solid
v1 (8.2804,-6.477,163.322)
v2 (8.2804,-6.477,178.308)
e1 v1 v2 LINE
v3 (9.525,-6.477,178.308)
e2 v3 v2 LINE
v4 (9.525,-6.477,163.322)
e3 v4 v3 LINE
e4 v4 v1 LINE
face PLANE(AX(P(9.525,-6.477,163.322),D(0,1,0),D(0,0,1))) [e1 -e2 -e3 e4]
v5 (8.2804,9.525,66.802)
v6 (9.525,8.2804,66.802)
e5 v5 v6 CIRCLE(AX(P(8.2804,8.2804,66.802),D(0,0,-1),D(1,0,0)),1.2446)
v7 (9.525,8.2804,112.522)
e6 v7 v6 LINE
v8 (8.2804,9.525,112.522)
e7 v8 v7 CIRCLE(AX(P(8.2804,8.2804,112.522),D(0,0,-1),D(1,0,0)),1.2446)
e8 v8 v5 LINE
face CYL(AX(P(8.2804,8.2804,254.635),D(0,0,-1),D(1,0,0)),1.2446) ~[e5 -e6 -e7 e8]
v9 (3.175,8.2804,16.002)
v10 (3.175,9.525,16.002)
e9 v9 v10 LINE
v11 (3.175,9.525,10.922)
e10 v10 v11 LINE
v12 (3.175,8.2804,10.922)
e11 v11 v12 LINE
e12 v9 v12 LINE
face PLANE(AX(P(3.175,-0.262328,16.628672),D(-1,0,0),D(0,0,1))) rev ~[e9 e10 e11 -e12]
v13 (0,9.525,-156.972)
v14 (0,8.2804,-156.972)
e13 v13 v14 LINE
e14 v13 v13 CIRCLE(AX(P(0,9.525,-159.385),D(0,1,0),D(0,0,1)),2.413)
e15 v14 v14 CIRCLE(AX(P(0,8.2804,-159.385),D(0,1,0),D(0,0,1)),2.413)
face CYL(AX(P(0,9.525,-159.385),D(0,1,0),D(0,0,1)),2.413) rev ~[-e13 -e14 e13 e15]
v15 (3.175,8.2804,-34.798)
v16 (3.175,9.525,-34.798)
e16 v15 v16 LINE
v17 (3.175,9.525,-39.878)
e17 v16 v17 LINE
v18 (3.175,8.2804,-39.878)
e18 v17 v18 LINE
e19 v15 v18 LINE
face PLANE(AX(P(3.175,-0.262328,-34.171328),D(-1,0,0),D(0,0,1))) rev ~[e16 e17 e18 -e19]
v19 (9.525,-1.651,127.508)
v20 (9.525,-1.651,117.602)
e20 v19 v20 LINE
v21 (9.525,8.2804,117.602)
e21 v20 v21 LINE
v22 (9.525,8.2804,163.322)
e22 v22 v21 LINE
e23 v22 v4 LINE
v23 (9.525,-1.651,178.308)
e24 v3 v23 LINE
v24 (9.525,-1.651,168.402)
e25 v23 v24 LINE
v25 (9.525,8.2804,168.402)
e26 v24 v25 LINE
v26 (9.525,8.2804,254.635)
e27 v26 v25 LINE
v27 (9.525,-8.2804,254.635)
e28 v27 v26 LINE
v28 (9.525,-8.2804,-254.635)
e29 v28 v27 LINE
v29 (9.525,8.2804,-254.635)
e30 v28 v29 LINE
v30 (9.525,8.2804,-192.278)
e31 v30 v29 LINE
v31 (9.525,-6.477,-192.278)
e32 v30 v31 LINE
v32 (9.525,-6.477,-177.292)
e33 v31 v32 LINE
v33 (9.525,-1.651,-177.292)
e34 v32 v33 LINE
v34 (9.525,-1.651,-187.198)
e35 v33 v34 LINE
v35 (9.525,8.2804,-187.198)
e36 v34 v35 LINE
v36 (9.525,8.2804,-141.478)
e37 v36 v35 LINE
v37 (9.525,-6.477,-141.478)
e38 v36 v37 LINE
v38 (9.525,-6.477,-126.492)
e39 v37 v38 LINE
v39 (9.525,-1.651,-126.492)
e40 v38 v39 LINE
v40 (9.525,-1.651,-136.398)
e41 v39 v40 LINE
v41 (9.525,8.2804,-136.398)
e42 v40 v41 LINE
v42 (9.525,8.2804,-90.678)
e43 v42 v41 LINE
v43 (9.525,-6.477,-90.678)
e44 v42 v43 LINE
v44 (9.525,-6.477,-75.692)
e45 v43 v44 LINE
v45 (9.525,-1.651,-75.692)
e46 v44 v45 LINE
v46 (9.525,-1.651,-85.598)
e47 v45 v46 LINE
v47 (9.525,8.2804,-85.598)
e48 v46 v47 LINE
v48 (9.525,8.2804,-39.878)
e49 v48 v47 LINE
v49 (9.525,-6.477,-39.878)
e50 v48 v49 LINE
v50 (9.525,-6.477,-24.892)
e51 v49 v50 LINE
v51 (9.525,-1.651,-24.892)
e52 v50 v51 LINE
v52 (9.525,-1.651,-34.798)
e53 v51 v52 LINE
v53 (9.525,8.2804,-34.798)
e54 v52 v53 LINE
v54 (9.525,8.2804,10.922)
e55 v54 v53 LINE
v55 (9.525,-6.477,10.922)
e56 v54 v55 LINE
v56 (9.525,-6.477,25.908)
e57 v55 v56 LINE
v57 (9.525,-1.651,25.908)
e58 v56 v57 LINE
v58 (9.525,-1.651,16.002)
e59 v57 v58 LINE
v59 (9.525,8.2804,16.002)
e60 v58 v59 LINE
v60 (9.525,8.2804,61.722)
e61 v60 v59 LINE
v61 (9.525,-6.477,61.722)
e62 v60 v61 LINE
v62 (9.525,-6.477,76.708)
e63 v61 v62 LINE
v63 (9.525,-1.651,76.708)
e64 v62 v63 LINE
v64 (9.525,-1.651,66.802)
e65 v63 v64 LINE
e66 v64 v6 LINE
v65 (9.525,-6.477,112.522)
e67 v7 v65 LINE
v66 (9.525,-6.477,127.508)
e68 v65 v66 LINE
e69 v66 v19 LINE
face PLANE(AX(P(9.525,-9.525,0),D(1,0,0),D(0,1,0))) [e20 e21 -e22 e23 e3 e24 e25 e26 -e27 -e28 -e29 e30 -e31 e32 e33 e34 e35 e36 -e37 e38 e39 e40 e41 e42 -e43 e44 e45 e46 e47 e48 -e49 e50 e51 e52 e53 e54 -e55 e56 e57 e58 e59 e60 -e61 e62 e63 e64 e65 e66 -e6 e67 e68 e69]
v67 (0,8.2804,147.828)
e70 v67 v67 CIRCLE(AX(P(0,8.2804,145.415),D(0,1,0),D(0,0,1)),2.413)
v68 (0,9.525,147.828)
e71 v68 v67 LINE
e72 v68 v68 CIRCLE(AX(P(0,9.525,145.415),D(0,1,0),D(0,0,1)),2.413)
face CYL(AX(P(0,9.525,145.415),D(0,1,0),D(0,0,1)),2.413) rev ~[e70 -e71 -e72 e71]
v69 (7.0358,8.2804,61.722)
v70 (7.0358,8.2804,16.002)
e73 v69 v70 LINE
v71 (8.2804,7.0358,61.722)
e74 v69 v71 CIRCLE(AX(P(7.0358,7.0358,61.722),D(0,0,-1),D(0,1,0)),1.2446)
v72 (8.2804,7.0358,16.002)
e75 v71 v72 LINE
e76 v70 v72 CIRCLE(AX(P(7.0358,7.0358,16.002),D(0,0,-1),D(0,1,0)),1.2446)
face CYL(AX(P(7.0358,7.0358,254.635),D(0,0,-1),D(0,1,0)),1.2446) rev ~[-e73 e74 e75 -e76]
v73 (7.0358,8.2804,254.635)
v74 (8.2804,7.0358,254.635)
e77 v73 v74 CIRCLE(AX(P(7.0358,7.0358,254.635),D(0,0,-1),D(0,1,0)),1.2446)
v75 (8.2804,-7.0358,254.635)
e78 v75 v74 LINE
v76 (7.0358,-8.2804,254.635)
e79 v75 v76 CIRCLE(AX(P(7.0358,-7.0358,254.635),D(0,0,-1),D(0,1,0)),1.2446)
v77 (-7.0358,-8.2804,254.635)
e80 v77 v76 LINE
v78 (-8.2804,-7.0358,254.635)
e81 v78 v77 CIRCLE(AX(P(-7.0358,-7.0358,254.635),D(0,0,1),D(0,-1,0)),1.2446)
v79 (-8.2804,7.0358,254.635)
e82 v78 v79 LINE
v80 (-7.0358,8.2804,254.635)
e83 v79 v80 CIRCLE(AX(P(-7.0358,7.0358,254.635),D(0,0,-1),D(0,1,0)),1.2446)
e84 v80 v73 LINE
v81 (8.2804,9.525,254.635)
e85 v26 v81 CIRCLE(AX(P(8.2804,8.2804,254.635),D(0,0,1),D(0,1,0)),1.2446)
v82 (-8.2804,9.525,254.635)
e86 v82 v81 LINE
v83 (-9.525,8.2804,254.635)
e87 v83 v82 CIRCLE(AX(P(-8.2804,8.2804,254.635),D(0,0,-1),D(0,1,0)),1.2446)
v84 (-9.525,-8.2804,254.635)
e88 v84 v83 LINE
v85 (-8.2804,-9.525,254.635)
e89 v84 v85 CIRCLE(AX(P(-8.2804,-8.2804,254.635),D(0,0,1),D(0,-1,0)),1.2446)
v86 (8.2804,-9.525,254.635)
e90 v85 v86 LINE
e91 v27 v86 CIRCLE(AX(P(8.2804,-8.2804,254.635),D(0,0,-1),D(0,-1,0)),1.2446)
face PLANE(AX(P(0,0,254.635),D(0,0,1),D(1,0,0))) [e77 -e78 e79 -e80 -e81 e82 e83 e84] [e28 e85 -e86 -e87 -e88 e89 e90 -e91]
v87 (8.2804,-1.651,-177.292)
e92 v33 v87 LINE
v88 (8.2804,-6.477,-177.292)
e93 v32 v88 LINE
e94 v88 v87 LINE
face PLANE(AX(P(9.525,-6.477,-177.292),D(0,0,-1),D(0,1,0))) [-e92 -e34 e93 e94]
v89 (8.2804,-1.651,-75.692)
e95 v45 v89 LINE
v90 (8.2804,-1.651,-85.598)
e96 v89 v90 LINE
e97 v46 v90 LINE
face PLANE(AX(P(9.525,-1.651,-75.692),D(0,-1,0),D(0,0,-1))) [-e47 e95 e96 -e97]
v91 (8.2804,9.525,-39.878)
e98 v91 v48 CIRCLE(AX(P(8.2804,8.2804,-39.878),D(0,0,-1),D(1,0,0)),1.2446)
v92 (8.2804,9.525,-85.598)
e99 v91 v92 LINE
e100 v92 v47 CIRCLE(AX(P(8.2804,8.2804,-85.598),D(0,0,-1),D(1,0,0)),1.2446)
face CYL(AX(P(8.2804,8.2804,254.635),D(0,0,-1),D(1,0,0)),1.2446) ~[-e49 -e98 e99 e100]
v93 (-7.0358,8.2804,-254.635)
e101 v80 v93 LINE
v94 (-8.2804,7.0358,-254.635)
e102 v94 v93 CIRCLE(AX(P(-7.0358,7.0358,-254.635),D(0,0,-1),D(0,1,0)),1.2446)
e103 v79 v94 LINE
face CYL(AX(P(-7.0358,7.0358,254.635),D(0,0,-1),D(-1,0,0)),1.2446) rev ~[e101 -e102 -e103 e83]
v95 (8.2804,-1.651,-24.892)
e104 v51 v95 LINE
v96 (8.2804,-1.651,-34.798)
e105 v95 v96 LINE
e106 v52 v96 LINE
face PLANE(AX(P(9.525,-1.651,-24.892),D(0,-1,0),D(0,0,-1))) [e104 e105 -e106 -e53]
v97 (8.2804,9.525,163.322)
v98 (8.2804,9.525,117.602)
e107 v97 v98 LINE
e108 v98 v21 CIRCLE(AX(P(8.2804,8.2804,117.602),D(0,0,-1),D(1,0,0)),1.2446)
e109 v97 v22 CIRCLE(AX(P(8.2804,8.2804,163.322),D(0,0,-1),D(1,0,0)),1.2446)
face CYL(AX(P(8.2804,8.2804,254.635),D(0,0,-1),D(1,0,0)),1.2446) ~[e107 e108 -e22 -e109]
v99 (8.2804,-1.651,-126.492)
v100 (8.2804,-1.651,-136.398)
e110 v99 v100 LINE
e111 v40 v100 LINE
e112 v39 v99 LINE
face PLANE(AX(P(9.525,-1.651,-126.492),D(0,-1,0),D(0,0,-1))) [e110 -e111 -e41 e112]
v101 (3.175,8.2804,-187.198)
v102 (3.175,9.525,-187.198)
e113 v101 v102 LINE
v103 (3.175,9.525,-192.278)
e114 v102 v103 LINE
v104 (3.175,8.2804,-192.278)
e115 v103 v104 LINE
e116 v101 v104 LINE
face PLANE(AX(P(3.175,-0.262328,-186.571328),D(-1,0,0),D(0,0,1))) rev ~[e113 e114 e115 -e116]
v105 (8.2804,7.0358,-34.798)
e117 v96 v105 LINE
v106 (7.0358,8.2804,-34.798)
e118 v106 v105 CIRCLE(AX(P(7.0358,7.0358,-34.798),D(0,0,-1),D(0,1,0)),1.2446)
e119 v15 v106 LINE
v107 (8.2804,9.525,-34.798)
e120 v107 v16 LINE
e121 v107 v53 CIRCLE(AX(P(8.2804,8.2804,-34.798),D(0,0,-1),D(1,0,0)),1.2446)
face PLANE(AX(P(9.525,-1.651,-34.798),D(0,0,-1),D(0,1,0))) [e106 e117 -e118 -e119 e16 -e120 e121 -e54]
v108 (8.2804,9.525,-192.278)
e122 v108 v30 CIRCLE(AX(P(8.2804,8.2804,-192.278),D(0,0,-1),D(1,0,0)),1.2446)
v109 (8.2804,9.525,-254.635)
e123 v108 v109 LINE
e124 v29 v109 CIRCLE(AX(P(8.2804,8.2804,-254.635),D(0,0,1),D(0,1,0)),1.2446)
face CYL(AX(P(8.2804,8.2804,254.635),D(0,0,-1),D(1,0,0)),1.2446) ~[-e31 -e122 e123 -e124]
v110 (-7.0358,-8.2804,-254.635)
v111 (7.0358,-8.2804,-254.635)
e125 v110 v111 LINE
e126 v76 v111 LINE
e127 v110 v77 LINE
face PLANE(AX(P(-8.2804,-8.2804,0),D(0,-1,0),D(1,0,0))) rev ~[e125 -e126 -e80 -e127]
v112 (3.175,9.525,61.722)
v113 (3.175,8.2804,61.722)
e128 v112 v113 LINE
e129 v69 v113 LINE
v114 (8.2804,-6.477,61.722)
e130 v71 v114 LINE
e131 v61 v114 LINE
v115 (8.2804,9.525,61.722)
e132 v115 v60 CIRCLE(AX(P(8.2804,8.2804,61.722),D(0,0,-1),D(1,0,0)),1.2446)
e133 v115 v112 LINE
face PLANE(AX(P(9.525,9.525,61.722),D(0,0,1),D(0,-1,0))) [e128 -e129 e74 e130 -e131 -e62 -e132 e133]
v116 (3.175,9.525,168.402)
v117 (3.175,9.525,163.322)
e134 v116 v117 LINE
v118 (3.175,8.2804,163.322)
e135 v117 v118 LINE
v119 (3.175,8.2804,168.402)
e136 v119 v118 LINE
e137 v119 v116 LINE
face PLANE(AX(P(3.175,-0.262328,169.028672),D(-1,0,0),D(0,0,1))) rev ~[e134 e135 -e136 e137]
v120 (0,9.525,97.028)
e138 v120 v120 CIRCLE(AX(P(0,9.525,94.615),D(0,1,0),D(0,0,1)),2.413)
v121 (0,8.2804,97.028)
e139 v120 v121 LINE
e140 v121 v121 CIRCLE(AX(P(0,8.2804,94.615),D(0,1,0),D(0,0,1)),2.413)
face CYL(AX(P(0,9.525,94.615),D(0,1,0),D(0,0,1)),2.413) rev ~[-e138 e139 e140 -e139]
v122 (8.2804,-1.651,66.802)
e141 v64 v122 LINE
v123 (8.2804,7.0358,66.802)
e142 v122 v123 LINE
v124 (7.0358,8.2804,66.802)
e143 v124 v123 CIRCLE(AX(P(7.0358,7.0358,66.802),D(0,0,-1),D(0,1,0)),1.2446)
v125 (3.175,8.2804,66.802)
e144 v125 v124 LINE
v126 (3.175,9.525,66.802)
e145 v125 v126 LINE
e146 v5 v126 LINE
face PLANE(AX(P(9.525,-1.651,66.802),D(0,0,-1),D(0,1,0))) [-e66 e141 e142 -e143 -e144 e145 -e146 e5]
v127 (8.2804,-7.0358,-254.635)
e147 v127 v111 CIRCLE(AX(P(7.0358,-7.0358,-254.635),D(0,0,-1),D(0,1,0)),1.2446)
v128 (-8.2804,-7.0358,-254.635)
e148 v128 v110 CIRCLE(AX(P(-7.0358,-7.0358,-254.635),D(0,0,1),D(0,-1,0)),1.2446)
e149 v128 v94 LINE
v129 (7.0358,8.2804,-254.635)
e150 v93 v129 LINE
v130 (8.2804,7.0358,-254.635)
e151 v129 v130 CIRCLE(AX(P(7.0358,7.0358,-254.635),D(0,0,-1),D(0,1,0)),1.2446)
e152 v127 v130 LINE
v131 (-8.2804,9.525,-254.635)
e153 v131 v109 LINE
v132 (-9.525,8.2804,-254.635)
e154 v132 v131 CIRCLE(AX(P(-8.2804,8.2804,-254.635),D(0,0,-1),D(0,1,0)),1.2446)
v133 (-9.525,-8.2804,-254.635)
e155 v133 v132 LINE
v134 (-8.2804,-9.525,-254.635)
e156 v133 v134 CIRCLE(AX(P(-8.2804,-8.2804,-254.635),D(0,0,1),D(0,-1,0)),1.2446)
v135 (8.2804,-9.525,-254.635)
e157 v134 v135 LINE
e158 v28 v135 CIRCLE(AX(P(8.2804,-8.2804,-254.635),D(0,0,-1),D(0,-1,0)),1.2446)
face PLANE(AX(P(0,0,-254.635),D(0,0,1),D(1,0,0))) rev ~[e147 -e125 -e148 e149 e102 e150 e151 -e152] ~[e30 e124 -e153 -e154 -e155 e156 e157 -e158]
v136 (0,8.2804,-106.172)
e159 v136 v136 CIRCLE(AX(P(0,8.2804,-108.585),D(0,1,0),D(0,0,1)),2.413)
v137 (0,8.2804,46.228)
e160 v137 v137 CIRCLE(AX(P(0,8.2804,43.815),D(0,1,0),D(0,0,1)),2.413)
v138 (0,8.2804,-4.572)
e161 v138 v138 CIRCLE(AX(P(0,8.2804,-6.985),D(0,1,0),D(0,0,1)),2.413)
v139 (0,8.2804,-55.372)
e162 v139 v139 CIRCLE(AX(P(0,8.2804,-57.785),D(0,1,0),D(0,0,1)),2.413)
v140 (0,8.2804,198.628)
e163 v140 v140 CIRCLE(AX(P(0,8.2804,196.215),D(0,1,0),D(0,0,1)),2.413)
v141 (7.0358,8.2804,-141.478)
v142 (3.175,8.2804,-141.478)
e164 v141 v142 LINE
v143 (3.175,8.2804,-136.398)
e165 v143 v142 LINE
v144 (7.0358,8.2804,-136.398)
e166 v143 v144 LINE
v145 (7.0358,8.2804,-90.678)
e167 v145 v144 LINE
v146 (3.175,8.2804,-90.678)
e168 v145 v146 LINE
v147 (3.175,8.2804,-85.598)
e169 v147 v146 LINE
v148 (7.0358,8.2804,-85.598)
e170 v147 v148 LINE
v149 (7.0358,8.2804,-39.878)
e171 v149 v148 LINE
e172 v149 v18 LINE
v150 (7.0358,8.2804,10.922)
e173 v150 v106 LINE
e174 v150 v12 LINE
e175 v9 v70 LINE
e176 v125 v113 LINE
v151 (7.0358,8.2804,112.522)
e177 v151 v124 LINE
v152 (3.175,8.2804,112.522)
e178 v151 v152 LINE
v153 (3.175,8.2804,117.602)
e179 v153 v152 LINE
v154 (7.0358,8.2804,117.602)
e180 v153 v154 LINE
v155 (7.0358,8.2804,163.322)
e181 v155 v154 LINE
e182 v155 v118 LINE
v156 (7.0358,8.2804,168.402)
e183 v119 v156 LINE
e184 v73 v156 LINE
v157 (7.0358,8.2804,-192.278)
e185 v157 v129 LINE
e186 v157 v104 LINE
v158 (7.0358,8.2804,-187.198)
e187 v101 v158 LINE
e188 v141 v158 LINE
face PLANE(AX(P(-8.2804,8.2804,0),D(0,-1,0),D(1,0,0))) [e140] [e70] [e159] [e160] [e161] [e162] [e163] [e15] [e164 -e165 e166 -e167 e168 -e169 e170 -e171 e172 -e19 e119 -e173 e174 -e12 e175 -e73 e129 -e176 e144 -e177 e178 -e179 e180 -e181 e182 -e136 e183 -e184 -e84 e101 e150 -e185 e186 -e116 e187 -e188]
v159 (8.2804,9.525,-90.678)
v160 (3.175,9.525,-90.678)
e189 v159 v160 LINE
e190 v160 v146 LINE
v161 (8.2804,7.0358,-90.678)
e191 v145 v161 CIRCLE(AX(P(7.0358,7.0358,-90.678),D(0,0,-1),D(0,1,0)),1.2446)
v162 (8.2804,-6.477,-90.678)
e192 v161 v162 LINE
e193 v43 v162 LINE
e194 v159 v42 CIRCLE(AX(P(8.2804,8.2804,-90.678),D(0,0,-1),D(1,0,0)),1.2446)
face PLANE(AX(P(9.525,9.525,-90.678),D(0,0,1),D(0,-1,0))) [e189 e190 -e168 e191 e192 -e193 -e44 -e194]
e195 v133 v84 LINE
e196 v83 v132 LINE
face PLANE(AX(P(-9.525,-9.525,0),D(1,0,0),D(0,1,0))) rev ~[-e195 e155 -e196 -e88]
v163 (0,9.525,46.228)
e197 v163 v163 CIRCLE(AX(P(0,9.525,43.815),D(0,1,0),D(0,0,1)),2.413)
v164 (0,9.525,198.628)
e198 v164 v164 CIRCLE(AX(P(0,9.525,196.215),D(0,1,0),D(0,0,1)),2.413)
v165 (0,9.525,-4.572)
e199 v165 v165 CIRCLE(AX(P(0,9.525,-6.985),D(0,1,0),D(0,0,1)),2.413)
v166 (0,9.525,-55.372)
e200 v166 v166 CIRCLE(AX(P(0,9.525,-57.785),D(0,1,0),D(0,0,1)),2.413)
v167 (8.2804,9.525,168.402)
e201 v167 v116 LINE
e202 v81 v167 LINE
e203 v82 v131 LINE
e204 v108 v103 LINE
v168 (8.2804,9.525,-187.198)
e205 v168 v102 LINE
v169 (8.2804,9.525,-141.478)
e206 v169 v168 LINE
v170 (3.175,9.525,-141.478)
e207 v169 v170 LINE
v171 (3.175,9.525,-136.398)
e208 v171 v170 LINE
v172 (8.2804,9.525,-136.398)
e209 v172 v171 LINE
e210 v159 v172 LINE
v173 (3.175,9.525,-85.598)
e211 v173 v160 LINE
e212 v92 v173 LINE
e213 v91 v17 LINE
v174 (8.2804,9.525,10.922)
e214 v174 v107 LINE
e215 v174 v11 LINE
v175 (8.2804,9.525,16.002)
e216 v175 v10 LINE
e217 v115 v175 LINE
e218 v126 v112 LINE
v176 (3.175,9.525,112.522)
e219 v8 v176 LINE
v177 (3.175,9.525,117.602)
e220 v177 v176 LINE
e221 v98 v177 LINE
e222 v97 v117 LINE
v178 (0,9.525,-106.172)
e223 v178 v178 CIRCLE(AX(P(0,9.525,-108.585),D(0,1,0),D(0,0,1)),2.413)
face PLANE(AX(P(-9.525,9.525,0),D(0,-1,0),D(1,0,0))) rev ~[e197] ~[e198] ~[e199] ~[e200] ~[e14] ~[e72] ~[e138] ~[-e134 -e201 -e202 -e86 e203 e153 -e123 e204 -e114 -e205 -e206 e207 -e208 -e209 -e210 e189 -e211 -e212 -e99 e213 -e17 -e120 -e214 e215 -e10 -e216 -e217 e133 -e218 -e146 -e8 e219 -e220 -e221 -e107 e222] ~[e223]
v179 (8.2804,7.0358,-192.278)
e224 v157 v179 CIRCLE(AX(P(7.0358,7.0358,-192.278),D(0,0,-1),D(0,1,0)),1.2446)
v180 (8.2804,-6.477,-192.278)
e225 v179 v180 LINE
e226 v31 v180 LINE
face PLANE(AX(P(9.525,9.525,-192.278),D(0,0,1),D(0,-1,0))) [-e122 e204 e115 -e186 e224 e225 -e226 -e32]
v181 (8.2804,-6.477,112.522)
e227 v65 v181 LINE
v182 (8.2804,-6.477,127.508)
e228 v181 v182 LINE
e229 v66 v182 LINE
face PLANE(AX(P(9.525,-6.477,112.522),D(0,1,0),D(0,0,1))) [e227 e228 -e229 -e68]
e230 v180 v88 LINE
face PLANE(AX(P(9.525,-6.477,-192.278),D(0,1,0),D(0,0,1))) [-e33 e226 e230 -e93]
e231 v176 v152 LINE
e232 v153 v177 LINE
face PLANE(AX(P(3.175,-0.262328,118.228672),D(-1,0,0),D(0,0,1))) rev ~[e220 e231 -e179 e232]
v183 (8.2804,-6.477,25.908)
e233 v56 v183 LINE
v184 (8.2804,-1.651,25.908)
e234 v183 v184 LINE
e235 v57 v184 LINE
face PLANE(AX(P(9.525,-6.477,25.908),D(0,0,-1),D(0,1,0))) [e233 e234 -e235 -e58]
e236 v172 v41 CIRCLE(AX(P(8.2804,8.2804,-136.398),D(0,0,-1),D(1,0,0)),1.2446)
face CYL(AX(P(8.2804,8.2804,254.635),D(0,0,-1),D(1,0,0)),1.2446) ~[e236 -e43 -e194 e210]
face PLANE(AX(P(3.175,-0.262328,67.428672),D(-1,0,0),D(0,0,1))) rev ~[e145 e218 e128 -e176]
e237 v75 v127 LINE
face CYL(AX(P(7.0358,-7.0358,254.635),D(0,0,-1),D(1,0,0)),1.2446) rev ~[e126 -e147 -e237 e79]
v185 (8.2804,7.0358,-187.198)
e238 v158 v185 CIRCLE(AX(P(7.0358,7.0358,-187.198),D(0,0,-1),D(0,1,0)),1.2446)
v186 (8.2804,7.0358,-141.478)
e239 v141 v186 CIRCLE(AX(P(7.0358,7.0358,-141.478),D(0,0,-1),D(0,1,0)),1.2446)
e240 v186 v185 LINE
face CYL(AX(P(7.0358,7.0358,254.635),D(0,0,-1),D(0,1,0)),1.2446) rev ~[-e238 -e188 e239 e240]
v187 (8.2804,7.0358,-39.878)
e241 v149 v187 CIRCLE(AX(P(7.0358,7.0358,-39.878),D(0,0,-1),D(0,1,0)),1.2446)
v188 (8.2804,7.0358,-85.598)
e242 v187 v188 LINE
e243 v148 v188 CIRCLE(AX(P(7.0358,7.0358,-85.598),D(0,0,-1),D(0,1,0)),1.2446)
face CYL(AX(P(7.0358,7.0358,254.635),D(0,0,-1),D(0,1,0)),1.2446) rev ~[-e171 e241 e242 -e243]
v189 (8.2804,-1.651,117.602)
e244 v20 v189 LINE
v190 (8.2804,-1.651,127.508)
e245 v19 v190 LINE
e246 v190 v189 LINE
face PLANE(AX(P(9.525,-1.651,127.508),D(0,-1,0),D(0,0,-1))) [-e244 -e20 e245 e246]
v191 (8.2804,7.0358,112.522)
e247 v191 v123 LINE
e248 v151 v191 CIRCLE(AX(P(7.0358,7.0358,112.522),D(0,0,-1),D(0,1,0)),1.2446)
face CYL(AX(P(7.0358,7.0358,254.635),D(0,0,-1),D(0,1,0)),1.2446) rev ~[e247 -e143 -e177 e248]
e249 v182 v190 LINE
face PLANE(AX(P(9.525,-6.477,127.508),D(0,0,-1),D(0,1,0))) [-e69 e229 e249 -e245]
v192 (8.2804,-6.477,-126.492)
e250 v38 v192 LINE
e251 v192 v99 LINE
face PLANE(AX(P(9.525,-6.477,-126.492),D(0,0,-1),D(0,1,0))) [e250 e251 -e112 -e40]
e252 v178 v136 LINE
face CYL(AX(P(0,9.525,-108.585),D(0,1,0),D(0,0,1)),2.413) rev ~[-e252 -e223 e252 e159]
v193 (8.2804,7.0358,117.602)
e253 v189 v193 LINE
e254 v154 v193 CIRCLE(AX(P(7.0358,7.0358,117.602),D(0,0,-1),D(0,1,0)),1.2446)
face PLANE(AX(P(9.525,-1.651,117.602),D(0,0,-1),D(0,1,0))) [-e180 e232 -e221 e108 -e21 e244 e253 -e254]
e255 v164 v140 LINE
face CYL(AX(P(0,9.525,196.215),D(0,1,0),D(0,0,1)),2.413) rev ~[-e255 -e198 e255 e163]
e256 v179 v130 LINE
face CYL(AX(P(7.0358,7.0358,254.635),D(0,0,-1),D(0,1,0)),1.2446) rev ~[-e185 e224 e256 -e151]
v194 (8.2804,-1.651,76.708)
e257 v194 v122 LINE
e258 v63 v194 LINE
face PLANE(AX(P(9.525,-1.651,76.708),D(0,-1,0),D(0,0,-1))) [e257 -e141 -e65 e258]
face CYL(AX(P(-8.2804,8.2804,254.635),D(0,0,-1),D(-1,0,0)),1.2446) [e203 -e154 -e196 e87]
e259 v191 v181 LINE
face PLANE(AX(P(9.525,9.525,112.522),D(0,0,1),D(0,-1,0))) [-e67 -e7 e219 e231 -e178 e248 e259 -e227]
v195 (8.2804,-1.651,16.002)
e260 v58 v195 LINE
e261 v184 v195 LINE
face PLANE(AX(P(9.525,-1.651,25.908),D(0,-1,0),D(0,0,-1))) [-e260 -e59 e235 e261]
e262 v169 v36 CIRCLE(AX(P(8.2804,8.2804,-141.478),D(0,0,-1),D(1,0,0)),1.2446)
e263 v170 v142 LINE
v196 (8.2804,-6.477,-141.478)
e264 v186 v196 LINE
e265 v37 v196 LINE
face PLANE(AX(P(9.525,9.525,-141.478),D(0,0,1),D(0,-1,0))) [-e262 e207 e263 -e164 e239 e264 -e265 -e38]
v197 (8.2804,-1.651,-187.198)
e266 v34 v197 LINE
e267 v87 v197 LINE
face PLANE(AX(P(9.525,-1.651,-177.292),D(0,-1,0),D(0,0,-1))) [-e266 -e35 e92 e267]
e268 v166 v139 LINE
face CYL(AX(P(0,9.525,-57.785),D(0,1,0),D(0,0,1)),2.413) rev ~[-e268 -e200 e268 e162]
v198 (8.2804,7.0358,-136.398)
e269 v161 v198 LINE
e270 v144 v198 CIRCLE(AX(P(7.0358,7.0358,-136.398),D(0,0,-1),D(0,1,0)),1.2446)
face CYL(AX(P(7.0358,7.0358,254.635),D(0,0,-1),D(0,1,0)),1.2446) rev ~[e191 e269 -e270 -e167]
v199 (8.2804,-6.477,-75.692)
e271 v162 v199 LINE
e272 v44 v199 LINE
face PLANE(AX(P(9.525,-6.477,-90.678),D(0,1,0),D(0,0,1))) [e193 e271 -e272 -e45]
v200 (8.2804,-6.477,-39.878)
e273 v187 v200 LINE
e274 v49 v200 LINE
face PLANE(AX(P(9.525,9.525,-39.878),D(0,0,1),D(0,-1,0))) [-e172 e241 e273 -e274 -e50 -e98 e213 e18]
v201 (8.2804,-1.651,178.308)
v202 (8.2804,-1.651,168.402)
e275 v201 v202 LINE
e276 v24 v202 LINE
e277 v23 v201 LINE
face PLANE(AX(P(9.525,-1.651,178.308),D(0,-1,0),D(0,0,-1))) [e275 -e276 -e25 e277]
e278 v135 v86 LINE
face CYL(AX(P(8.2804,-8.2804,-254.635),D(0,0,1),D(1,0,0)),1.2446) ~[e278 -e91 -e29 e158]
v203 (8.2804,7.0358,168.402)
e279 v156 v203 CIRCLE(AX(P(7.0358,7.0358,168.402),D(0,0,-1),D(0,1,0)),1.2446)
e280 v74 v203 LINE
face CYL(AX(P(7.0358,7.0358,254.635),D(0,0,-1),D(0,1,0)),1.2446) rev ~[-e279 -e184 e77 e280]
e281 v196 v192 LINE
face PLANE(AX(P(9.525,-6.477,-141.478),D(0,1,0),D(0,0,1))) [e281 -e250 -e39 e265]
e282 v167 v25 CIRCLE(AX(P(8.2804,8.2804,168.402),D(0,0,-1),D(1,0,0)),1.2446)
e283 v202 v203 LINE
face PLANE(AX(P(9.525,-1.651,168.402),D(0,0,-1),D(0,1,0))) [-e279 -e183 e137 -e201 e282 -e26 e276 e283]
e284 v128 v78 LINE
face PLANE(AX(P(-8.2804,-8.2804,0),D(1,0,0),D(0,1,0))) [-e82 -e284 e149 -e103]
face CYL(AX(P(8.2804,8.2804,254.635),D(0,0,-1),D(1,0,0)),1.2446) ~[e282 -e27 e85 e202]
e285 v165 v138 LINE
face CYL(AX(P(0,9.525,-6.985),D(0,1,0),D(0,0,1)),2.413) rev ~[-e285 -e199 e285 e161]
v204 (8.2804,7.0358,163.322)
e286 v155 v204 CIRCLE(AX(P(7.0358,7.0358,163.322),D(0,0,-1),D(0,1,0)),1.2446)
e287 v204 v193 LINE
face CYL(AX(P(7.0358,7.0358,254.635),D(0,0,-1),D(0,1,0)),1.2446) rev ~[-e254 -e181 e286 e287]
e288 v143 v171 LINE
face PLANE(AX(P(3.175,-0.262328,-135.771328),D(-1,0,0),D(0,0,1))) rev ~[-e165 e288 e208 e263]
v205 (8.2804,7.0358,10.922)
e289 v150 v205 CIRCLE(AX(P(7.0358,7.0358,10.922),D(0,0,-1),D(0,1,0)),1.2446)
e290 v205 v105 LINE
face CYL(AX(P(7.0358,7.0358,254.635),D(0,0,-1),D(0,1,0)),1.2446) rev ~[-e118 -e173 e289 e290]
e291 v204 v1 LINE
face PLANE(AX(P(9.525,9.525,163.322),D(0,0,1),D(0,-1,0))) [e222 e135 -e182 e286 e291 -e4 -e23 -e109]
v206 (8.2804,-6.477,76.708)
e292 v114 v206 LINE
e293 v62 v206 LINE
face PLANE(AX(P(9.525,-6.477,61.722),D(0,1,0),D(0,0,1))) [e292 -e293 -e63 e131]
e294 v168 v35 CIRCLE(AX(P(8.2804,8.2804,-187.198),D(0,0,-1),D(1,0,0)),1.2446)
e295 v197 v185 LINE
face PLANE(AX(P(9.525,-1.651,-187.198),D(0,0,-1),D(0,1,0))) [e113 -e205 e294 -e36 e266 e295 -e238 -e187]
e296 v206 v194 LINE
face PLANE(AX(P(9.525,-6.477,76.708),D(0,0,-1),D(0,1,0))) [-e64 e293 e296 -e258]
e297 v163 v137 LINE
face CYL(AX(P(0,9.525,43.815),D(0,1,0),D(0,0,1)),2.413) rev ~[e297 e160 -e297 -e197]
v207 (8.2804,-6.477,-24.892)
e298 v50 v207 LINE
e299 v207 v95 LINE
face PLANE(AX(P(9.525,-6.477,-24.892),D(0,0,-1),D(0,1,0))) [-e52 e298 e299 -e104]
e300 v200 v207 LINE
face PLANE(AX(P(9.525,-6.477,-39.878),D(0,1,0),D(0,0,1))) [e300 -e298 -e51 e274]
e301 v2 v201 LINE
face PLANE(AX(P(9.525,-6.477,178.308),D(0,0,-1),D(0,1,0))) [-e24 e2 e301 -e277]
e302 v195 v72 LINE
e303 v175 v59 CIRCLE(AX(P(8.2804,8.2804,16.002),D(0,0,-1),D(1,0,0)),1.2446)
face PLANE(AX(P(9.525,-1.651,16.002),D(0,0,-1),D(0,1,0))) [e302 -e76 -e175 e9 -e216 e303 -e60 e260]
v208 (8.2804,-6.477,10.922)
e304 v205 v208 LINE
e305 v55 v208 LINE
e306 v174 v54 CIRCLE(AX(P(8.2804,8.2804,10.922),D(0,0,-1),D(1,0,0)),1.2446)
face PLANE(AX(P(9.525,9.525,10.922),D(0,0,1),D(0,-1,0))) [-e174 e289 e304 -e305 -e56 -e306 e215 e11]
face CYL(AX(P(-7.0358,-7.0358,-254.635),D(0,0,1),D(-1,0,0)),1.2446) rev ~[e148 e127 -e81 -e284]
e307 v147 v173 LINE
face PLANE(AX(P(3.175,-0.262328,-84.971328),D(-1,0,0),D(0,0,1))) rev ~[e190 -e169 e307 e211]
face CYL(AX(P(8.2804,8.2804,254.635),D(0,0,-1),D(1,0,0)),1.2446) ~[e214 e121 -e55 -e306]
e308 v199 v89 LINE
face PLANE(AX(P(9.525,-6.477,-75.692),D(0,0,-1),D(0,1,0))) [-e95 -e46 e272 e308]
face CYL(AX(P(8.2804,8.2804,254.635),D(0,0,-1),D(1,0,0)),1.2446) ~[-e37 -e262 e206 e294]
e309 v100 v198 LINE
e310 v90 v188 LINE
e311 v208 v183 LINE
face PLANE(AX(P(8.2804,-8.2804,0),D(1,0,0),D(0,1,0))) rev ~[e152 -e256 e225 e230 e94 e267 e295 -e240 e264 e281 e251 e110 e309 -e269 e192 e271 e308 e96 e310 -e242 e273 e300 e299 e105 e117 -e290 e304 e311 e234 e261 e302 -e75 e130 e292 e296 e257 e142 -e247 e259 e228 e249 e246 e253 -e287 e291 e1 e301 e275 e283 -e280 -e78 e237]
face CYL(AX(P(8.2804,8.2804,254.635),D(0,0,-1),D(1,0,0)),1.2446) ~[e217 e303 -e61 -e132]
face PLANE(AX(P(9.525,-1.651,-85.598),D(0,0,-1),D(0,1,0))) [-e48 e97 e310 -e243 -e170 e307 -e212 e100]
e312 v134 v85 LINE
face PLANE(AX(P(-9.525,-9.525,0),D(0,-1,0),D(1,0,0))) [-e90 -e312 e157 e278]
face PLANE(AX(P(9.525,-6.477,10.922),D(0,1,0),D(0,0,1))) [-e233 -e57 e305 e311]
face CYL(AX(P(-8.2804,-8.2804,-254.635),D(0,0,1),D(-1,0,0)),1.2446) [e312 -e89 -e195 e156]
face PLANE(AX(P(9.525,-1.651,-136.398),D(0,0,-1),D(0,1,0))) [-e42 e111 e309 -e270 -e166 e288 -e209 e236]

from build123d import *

# Parameters (mm, degrees)
SKETCH3_W           = 19.05
SKETCH3_H           = 19.05
SKETCH3_W_2         = 16.5608
SKETCH3_H_2         = 16.5608
BOSS_EXTRUDE1_DEPTH = 254.635
FILLET1_R           = 1.2446
CUT_EXTRUDE1_REACH  = 257.524
SKETCH4_R           = 2.413
CUT_EXTRUDE3_START  = -19.05
CUT_EXTRUDE3_DEPTH  = 6.35
LPATTERN2_COUNT     = 8
LPATTERN2_PITCH     = 50.8


with BuildPart() as part:
    # Sketch3 → Boss-Extrude1 (new, symmetric)
    with BuildSketch(Plane.XY):
        Rectangle(SKETCH3_W, SKETCH3_H)
        Rectangle(SKETCH3_W_2, SKETCH3_H_2, mode=Mode.SUBTRACT)
    extrude(amount=BOSS_EXTRUDE1_DEPTH, both=True)

    # Fillet1
    fillet1_edges = [part.edges().sort_by_distance(p)[0] for p in [
        (-8.2804, -8.2804, 0),
        (8.2804, -8.2804, 0),
        (8.2804, 8.2804, 0),
        (-8.2804, 8.2804, 0),
        (9.525, -9.525, 0),
        (-9.525, -9.525, 0),
        (-9.525, 9.525, 0),
        (9.525, 9.525, 0),
    ]]
    fillet(fillet1_edges, radius=FILLET1_R)

    # Sketch4 → Cut-Extrude1 (cut, up to next)
    with BuildSketch(Plane(origin=(0, 9.525, 0), x_dir=(1, 0, 0), z_dir=(0, 1, 0)), mode=Mode.PRIVATE) as cut_extrude1_sk1:
        with Locations(Location((0, 159.385, 0), (0, 0, 270))):
            Circle(SKETCH4_R)
    cut_extrude1_tool1 = extrude(cut_extrude1_sk1.sketch, amount=-CUT_EXTRUDE1_REACH, mode=Mode.PRIVATE) & part.part
    # Sketch4 → Cut-Extrude1 (cut, up to next)
    with BuildSketch(Plane(origin=(0, 9.525, 0), x_dir=(1, 0, 0), z_dir=(0, 1, 0)), mode=Mode.PRIVATE) as cut_extrude1_sk2:
        with Locations(Location((0, 108.585, 0), (0, 0, 270))):
            Circle(SKETCH4_R)
    cut_extrude1_tool2 = extrude(cut_extrude1_sk2.sketch, amount=-CUT_EXTRUDE1_REACH, mode=Mode.PRIVATE) & part.part
    # Sketch4 → Cut-Extrude1 (cut, up to next)
    with BuildSketch(Plane(origin=(0, 9.525, 0), x_dir=(1, 0, 0), z_dir=(0, 1, 0)), mode=Mode.PRIVATE) as cut_extrude1_sk3:
        with Locations(Location((0, 57.785, 0), (0, 0, 270))):
            Circle(SKETCH4_R)
    cut_extrude1_tool3 = extrude(cut_extrude1_sk3.sketch, amount=-CUT_EXTRUDE1_REACH, mode=Mode.PRIVATE) & part.part
    # Sketch4 → Cut-Extrude1 (cut, up to next)
    with BuildSketch(Plane(origin=(0, 9.525, 0), x_dir=(1, 0, 0), z_dir=(0, 1, 0)), mode=Mode.PRIVATE) as cut_extrude1_sk4:
        with Locations(Location((0, 6.985, 0), (0, 0, 270))):
            Circle(SKETCH4_R)
    cut_extrude1_tool4 = extrude(cut_extrude1_sk4.sketch, amount=-CUT_EXTRUDE1_REACH, mode=Mode.PRIVATE) & part.part
    # Sketch4 → Cut-Extrude1 (cut, up to next)
    with BuildSketch(Plane(origin=(0, 9.525, 0), x_dir=(1, 0, 0), z_dir=(0, 1, 0)), mode=Mode.PRIVATE) as cut_extrude1_sk5:
        with Locations(Location((0, -43.815, 0), (0, 0, 270))):
            Circle(SKETCH4_R)
    cut_extrude1_tool5 = extrude(cut_extrude1_sk5.sketch, amount=-CUT_EXTRUDE1_REACH, mode=Mode.PRIVATE) & part.part
    # Sketch4 → Cut-Extrude1 (cut, up to next)
    with BuildSketch(Plane(origin=(0, 9.525, 0), x_dir=(1, 0, 0), z_dir=(0, 1, 0)), mode=Mode.PRIVATE) as cut_extrude1_sk6:
        with Locations(Location((0, -94.615, 0), (0, 0, 270))):
            Circle(SKETCH4_R)
    cut_extrude1_tool6 = extrude(cut_extrude1_sk6.sketch, amount=-CUT_EXTRUDE1_REACH, mode=Mode.PRIVATE) & part.part
    # Sketch4 → Cut-Extrude1 (cut, up to next)
    with BuildSketch(Plane(origin=(0, 9.525, 0), x_dir=(1, 0, 0), z_dir=(0, 1, 0)), mode=Mode.PRIVATE) as cut_extrude1_sk7:
        with Locations(Location((0, -145.415, 0), (0, 0, 270))):
            Circle(SKETCH4_R)
    cut_extrude1_tool7 = extrude(cut_extrude1_sk7.sketch, amount=-CUT_EXTRUDE1_REACH, mode=Mode.PRIVATE) & part.part
    # Sketch4 → Cut-Extrude1 (cut, up to next)
    with BuildSketch(Plane(origin=(0, 9.525, 0), x_dir=(1, 0, 0), z_dir=(0, 1, 0)), mode=Mode.PRIVATE) as cut_extrude1_sk8:
        with Locations(Location((0, -196.215, 0), (0, 0, 270))):
            Circle(SKETCH4_R)
    cut_extrude1_tool8 = extrude(cut_extrude1_sk8.sketch, amount=-CUT_EXTRUDE1_REACH, mode=Mode.PRIVATE) & part.part
    add(cut_extrude1_tool1.solids().sort_by_distance((0, 9.525, -159.385))[0], mode=Mode.SUBTRACT)
    add(cut_extrude1_tool2.solids().sort_by_distance((0, 9.525, -108.585))[0], mode=Mode.SUBTRACT)
    add(cut_extrude1_tool3.solids().sort_by_distance((0, 9.525, -57.785))[0], mode=Mode.SUBTRACT)
    add(cut_extrude1_tool4.solids().sort_by_distance((0, 9.525, -6.985))[0], mode=Mode.SUBTRACT)
    add(cut_extrude1_tool5.solids().sort_by_distance((0, 9.525, 43.815))[0], mode=Mode.SUBTRACT)
    add(cut_extrude1_tool6.solids().sort_by_distance((0, 9.525, 94.615))[0], mode=Mode.SUBTRACT)
    add(cut_extrude1_tool7.solids().sort_by_distance((0, 9.525, 145.415))[0], mode=Mode.SUBTRACT)
    add(cut_extrude1_tool8.solids().sort_by_distance((0, 9.525, 196.215))[0], mode=Mode.SUBTRACT)

    # Sketch6 → Cut-Extrude3 (cut)
    with BuildSketch(Plane.ZY.offset(9.525).offset(CUT_EXTRUDE3_START)):
        Polygon((-182.118, -1.651), (-187.198, -1.651), (-187.198, 9.525), (-192.278, 9.525), (-192.278, -6.477), (-182.118, -6.477), (-177.292, -6.477), (-177.292, -1.651), align=None)
    cut_extrude3 = extrude(amount=CUT_EXTRUDE3_DEPTH, mode=Mode.SUBTRACT)

    # LPattern2: Cut-Extrude3 ×8
    with Locations(*[(0, 0, i * LPATTERN2_PITCH) for i in range(1, LPATTERN2_COUNT)]):
        add(cut_extrude3, mode=Mode.SUBTRACT)


solid = part.part
